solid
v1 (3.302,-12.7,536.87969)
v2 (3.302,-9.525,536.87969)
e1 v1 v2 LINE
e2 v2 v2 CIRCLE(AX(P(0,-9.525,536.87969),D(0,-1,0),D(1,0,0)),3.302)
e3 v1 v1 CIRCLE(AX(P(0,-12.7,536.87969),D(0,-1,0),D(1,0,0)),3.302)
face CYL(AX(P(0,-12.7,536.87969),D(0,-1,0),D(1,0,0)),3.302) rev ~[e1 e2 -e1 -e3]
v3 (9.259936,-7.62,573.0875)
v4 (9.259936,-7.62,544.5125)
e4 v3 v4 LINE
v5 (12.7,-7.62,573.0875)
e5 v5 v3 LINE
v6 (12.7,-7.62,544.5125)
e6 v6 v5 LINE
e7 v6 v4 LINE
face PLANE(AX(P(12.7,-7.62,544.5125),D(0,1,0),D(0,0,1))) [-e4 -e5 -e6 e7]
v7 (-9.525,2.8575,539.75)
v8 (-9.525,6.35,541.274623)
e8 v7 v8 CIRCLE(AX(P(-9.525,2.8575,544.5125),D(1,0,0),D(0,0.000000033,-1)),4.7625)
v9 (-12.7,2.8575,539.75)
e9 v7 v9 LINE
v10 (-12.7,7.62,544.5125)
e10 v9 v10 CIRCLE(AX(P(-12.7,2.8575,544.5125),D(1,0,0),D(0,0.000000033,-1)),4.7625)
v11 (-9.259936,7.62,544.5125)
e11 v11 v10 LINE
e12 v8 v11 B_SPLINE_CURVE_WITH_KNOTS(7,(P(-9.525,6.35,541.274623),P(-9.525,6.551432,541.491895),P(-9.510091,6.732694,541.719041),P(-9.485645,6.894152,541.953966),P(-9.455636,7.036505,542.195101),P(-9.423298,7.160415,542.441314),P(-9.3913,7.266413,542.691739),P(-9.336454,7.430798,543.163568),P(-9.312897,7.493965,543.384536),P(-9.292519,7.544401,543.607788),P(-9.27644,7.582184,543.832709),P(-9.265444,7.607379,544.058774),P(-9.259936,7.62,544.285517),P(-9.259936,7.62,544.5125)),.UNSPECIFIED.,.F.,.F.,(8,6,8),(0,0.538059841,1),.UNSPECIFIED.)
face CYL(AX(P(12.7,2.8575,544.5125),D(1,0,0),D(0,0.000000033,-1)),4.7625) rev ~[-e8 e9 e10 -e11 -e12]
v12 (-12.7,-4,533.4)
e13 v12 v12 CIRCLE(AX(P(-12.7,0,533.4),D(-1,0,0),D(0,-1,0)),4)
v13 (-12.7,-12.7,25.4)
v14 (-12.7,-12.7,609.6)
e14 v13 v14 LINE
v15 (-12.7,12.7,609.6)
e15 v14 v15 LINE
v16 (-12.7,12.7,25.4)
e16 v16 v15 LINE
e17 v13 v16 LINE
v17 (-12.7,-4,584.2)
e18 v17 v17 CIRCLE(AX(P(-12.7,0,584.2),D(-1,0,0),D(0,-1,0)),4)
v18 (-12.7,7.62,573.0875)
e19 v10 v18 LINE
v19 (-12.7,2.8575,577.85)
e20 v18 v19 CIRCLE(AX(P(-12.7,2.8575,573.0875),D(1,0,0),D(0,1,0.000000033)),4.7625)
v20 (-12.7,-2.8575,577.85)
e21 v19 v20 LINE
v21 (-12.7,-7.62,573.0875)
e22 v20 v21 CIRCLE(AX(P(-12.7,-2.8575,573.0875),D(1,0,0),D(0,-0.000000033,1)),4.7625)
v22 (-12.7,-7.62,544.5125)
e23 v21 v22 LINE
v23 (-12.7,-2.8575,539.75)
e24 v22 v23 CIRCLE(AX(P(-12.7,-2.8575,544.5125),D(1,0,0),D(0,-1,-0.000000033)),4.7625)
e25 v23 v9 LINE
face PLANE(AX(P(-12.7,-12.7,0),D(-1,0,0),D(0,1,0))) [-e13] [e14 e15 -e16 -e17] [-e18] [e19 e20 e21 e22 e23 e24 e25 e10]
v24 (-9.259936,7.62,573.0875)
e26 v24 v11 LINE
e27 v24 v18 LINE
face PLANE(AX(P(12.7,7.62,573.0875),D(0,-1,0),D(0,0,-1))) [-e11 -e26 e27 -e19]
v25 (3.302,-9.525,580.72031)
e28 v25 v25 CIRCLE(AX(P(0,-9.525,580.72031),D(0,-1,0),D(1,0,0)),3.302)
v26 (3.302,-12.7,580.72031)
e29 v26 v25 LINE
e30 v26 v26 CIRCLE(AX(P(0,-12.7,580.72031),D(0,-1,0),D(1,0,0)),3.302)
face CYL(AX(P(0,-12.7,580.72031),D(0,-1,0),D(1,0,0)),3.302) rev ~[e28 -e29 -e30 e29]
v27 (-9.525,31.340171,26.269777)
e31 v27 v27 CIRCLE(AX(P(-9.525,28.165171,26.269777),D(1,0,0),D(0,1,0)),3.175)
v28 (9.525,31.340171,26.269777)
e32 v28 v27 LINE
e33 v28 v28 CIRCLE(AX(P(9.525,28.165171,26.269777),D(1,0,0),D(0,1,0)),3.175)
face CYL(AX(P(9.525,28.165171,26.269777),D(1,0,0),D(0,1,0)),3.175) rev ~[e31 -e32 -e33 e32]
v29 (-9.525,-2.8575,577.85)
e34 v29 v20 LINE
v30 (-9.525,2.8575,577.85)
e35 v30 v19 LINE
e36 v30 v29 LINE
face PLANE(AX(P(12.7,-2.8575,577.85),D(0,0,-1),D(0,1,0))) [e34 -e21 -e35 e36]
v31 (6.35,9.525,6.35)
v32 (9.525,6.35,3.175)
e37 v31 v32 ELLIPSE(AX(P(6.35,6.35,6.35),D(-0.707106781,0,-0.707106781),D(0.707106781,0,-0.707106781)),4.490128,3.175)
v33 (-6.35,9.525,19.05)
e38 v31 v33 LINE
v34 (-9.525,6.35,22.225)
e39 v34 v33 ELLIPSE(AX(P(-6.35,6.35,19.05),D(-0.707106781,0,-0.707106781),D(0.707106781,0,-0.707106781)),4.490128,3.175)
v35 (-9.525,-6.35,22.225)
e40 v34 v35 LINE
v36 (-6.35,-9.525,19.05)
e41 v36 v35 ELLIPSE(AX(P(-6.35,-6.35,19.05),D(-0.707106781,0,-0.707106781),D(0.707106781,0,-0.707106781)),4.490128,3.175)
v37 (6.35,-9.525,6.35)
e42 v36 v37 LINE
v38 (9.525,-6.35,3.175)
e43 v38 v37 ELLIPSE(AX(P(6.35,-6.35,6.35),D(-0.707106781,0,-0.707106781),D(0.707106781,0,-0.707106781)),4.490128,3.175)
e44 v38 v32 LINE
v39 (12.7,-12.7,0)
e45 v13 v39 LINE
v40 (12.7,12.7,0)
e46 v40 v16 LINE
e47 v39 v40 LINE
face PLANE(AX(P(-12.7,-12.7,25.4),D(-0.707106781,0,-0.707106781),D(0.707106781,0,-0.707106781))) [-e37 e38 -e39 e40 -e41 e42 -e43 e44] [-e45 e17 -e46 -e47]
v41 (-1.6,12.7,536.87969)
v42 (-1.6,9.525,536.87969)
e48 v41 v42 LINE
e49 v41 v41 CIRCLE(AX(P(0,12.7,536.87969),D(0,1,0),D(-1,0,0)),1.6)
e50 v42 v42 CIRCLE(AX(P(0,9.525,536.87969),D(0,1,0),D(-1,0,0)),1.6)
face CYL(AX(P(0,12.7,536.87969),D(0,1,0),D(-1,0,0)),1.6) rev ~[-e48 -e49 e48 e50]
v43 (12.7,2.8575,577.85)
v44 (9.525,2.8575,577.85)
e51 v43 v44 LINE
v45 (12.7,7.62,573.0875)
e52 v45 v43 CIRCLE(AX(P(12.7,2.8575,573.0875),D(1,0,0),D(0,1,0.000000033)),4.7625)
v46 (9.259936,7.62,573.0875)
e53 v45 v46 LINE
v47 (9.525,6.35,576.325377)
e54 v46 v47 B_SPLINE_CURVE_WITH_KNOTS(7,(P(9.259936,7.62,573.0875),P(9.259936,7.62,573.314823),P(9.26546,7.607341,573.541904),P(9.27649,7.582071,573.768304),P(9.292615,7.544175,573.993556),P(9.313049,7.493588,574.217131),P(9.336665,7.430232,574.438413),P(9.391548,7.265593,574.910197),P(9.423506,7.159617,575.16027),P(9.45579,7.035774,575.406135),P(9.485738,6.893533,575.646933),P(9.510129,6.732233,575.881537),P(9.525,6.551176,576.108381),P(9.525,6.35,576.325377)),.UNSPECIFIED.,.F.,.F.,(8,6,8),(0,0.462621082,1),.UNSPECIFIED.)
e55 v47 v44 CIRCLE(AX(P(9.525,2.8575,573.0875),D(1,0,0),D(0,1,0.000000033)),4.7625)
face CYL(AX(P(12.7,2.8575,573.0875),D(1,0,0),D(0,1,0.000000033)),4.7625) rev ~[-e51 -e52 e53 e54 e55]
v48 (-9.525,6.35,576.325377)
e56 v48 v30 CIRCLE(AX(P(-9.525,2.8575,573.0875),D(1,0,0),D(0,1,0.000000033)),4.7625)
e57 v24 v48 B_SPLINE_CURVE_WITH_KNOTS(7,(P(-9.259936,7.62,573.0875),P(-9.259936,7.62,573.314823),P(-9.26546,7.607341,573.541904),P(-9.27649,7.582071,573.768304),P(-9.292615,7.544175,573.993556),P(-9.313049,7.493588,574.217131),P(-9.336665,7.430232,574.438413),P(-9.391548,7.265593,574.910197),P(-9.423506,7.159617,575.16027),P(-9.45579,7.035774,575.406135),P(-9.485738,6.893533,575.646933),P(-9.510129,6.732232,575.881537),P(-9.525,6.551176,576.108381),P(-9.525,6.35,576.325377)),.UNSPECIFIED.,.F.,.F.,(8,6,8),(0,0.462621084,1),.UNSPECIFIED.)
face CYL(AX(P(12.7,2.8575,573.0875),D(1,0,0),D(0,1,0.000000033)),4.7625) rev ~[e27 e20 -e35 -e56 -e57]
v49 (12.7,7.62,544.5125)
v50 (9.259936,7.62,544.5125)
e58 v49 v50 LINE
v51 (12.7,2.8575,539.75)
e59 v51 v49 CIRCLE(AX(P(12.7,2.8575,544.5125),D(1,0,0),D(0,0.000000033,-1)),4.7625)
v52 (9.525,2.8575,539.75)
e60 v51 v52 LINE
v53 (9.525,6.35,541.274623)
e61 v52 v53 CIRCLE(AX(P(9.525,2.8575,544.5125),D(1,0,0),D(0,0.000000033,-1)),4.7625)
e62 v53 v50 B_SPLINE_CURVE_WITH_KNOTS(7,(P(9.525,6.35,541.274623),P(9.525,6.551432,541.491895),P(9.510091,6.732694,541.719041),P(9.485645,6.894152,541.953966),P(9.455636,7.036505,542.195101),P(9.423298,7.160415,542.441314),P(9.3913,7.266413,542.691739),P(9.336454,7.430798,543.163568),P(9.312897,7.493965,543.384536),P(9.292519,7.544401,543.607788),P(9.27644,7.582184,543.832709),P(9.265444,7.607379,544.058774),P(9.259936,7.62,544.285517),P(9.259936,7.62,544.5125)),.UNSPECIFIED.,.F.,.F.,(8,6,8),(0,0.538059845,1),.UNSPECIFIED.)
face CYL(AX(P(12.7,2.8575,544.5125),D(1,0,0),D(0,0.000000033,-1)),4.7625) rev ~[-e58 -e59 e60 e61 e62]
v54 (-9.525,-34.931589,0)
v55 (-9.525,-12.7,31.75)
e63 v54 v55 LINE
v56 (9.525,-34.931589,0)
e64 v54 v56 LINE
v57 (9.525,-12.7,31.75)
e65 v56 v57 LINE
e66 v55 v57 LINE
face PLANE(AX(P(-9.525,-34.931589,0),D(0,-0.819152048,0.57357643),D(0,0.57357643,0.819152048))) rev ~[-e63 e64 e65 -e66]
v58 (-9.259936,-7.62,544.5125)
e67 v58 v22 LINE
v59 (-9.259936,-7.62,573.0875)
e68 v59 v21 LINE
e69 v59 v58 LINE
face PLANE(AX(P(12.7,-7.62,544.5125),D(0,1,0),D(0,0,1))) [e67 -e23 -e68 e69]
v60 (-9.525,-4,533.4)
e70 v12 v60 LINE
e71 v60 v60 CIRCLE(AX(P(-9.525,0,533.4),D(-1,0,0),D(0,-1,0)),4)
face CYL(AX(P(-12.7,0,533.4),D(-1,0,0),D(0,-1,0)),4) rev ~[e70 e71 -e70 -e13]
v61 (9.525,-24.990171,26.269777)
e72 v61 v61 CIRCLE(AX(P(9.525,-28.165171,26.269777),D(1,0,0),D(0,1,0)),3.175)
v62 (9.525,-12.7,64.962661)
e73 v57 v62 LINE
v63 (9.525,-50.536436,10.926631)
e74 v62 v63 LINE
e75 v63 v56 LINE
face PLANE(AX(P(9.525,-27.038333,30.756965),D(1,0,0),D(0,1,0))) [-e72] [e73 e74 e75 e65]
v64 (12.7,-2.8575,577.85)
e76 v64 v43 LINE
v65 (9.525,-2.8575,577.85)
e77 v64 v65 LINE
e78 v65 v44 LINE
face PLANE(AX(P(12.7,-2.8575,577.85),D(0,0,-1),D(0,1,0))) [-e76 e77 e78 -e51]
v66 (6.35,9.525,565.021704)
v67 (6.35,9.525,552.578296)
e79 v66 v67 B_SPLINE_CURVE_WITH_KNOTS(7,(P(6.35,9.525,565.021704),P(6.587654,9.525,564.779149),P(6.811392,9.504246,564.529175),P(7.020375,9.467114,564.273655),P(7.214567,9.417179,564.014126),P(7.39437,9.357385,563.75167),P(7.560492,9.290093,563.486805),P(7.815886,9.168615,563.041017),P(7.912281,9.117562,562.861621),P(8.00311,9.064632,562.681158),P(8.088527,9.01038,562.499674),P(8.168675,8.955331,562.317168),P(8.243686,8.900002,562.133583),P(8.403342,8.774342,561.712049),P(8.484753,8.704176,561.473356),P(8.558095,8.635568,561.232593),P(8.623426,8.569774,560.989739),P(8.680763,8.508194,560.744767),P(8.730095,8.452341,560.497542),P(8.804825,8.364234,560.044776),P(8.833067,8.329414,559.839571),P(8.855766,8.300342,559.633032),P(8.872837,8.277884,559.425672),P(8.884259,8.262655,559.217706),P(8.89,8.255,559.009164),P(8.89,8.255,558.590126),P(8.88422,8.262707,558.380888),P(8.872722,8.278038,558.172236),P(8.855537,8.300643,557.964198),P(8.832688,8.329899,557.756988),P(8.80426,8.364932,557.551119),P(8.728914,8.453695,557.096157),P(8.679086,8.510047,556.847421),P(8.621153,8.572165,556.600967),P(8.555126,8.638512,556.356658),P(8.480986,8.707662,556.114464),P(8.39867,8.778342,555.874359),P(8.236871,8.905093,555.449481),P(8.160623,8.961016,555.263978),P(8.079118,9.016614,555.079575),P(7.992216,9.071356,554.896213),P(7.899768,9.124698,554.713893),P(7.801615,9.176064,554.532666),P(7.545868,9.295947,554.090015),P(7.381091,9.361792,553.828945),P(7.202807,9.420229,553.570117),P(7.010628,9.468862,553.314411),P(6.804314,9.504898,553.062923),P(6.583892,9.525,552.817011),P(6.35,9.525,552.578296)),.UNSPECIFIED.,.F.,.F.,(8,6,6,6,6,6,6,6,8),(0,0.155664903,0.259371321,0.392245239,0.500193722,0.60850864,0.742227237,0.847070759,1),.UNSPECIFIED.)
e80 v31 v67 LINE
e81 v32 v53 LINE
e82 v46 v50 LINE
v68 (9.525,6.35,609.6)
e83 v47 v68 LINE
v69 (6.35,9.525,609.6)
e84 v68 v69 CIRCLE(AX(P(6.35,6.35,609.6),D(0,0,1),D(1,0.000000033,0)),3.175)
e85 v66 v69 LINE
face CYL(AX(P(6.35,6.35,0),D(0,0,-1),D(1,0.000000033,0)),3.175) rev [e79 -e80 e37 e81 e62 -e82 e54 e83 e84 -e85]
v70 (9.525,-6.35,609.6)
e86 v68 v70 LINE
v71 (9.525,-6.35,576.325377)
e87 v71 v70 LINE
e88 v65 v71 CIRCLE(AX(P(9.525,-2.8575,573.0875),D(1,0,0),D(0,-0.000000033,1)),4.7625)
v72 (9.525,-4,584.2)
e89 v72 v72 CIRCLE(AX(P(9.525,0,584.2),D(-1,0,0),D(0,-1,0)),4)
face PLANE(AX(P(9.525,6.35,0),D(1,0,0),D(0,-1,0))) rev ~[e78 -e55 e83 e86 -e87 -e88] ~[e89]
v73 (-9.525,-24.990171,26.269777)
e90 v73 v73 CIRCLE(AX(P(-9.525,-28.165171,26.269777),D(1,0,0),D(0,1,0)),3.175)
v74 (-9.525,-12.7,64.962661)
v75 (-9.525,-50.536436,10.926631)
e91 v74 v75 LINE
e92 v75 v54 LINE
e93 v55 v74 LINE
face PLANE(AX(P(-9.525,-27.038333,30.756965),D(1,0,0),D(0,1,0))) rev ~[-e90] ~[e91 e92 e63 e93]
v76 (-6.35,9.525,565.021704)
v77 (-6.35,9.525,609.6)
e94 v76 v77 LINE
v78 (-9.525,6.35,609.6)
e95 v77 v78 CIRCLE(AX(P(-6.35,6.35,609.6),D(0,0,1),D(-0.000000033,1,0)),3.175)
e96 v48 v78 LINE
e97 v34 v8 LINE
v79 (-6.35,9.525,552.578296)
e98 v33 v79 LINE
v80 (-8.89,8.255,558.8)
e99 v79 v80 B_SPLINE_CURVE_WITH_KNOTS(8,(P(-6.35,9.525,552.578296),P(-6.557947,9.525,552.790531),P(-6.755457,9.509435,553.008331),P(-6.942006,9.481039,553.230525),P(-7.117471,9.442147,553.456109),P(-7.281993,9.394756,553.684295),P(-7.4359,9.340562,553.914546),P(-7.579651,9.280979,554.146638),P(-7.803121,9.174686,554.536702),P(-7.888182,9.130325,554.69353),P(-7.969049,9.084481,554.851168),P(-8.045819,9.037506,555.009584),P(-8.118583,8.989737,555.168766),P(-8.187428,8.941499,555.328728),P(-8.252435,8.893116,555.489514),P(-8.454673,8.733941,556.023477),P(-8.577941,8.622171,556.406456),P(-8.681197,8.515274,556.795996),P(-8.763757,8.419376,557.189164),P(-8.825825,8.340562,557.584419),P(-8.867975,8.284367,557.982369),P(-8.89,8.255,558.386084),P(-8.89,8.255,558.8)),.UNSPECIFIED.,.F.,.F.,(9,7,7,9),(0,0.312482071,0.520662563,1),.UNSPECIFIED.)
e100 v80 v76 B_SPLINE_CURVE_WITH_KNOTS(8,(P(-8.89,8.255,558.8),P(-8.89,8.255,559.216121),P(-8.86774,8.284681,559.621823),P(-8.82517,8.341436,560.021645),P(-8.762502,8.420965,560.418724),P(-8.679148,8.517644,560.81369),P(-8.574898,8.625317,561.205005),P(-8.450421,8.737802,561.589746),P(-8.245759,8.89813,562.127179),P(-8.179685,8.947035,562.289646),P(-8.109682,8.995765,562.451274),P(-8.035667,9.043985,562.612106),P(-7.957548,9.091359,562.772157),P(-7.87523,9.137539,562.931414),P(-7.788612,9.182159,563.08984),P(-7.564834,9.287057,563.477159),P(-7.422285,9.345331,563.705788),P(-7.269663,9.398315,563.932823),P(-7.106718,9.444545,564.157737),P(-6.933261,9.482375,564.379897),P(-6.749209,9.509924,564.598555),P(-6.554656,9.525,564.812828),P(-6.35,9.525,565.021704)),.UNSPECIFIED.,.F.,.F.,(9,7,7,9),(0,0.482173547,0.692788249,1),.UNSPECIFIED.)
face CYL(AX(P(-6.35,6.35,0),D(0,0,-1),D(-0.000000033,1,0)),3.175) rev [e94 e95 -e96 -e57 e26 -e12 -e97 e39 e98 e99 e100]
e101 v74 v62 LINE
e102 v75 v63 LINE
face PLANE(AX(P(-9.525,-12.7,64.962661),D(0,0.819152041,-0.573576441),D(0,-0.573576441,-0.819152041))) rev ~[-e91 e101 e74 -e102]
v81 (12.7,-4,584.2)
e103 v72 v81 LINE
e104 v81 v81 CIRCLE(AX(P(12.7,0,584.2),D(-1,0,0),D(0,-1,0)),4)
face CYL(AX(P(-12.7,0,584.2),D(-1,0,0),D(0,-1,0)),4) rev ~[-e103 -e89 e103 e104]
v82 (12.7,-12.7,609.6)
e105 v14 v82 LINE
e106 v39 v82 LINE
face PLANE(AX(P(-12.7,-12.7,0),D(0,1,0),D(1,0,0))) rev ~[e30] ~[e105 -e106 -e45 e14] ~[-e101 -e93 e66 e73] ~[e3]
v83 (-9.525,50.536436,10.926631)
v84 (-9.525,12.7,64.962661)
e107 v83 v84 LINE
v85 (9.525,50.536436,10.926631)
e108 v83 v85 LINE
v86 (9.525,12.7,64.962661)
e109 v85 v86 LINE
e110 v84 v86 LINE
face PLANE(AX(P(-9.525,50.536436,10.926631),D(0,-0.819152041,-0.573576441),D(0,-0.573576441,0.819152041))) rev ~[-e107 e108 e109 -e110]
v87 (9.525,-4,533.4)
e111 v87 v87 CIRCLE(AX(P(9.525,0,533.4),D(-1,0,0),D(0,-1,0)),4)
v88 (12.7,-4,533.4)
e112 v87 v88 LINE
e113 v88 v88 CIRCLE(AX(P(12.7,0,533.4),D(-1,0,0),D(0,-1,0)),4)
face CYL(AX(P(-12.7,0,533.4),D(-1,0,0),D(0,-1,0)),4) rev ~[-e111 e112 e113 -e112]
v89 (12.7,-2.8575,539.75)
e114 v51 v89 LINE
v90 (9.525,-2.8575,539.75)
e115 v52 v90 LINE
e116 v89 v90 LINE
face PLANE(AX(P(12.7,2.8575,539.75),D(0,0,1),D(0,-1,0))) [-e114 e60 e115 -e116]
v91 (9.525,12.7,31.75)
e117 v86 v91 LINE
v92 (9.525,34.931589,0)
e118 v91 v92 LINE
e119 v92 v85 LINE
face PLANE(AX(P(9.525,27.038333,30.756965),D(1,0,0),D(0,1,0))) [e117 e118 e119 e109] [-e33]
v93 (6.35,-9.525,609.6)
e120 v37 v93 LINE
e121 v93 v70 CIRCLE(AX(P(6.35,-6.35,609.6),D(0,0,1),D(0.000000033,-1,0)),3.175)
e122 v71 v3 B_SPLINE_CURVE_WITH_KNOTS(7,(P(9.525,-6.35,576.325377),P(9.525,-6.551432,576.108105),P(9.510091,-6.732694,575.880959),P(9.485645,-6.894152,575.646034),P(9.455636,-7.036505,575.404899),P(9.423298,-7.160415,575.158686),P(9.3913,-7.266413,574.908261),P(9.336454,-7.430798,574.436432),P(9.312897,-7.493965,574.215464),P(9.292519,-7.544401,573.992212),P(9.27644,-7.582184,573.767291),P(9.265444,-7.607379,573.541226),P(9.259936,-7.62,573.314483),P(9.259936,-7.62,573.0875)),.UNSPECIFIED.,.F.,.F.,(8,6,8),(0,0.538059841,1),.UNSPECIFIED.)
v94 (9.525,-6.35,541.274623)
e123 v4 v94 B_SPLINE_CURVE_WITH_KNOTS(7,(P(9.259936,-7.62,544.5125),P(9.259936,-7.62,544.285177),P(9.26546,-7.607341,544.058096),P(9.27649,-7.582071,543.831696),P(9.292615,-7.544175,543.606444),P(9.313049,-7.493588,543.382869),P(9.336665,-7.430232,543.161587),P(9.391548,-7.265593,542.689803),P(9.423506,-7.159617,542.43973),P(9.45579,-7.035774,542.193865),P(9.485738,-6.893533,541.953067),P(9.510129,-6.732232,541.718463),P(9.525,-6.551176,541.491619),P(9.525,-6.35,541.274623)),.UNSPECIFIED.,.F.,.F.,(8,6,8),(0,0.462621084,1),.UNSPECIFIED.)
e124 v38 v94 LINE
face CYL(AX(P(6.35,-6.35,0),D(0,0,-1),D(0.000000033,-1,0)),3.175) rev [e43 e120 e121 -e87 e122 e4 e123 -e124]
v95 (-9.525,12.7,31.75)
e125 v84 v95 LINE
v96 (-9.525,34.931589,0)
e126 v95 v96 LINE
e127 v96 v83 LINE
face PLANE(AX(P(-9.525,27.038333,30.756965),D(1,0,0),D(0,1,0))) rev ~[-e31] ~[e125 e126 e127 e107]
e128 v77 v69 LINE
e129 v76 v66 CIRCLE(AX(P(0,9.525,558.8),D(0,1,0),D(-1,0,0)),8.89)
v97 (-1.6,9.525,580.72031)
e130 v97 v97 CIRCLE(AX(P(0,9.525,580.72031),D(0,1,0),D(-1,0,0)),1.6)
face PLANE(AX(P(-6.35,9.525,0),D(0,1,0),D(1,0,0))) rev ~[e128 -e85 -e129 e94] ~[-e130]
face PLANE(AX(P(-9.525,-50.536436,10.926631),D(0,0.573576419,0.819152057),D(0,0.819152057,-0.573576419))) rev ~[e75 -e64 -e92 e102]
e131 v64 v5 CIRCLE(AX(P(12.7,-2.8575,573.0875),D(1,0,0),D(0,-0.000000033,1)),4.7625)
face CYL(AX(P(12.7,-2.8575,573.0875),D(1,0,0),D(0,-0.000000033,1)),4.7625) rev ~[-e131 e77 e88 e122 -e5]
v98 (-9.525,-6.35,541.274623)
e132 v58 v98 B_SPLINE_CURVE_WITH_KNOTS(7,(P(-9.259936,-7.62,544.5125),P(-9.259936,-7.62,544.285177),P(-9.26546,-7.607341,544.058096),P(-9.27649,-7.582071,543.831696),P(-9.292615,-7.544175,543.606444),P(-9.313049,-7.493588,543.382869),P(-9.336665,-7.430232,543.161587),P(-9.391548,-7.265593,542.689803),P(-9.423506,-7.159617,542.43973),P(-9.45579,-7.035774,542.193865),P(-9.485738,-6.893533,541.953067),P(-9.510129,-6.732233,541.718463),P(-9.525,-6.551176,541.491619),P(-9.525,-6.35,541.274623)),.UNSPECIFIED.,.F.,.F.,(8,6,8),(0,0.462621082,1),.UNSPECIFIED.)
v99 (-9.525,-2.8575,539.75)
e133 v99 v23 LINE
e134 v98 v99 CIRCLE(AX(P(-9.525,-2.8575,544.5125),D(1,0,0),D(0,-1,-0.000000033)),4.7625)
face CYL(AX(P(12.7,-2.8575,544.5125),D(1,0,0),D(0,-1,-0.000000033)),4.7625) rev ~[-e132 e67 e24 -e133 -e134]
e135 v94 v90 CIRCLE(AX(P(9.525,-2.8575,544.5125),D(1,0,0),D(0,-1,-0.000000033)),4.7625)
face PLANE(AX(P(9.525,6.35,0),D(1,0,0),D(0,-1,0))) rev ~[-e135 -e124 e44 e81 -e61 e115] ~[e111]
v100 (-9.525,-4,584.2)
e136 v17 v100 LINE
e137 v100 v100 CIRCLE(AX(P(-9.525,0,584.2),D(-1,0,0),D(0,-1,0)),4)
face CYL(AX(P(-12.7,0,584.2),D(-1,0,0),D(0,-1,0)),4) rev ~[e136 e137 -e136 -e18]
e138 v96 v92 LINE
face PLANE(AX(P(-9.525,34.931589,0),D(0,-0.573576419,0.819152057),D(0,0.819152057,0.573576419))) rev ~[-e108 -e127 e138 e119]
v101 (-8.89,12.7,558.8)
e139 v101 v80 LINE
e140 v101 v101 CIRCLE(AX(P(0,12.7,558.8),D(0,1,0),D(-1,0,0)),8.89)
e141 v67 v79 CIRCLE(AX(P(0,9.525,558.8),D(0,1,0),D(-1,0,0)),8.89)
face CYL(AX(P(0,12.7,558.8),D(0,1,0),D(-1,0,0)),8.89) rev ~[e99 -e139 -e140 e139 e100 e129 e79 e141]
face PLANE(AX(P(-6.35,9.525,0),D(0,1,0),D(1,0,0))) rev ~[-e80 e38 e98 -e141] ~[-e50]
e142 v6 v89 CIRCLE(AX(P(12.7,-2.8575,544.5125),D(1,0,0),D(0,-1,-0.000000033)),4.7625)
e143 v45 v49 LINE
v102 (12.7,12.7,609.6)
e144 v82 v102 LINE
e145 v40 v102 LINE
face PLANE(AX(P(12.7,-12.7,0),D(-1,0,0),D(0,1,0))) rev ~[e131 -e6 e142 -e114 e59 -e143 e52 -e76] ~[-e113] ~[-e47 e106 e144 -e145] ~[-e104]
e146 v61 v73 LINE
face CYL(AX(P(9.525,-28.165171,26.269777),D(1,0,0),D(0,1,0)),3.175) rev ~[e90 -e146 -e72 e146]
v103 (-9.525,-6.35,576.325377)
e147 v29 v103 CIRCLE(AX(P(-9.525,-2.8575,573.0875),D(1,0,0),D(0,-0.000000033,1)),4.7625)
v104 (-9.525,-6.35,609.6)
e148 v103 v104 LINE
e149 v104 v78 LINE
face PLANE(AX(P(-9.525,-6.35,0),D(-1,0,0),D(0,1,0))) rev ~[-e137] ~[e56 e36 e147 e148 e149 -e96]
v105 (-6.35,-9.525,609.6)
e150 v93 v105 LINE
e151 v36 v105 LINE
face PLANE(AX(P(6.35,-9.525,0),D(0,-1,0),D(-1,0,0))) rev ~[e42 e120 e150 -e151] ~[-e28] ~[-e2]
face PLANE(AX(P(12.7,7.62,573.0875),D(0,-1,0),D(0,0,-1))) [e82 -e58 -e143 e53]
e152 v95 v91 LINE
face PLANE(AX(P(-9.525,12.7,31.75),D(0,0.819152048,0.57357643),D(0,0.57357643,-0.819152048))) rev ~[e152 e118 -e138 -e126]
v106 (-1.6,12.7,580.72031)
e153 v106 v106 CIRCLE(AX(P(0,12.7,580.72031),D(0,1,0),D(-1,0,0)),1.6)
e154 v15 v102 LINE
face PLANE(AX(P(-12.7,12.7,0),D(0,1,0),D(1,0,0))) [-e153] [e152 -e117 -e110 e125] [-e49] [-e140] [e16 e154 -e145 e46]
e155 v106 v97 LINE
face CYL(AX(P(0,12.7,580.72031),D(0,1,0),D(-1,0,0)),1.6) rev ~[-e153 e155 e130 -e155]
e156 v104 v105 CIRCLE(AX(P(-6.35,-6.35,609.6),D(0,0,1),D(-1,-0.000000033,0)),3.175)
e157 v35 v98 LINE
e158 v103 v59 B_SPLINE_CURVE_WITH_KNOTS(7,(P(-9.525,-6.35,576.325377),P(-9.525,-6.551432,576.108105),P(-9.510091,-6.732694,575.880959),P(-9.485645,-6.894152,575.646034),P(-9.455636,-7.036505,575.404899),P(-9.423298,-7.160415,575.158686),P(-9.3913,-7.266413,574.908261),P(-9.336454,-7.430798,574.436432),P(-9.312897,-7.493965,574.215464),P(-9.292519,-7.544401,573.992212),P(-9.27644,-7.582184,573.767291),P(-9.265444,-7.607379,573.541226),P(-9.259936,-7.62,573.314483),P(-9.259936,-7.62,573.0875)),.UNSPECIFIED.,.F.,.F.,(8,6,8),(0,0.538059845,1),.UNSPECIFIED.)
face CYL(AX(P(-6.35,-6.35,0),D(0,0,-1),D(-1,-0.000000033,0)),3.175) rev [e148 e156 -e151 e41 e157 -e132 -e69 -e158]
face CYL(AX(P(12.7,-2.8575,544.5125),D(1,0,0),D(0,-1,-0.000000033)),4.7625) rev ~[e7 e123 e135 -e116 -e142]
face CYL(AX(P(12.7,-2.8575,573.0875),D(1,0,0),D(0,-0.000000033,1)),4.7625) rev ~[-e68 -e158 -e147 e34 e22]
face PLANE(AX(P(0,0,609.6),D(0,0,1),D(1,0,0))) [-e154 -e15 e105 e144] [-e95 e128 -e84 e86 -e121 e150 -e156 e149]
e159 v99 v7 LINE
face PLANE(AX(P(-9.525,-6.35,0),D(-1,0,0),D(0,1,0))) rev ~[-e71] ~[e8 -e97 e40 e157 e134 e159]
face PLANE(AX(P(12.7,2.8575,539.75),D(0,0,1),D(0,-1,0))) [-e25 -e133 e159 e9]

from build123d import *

# Parameters (mm, degrees)
SKETCH001_W     = 25.4
SKETCH001_H     = 25.4
PAD001_DEPTH    = 609.6
SKETCH002_R     = 8.89
SKETCH002_R_2   = 1.6
POCKET_DEPTH    = 5.08
SKETCH003_R     = 4
POCKET001_DEPTH = 25.401
POCKET002_DEPTH = 25.401
POCKET006_DEPTH = 25.401
PAD004_DEPTH    = 19.05
SKETCH020_R     = 3.302
POCKET012_DEPTH = 7.62
SKETCH021_R     = 3.175
POCKET013_DEPTH = 22.226


with BuildPart() as part:
    # Sketch001 → Pad001 (new body)
    with BuildSketch(Plane.XY):
        Rectangle(SKETCH001_W, SKETCH001_H)
        with BuildLine():
            ThreePointArc((-9.525, -6.35), (-8.595064, -8.595064), (-6.35, -9.525))
            Line((6.35, -9.525), (-6.35, -9.525))
            ThreePointArc((6.35, -9.525), (8.595064, -8.595064), (9.525, -6.35))
            Line((9.525, 6.35), (9.525, -6.35))
            ThreePointArc((9.525, 6.35), (8.595064, 8.595064), (6.35, 9.525))
            Line((-6.35, 9.525), (6.35, 9.525))
            ThreePointArc((-6.35, 9.525), (-8.595064, 8.595064), (-9.525, 6.35))
            Line((-9.525, -6.35), (-9.525, 6.35))
        make_face(mode=Mode.SUBTRACT)
    extrude(amount=PAD001_DEPTH)

    # Sketch002 (on Face2 of Pad001) → Pocket (cut)
    with BuildSketch(Plane(origin=(0, 12.7, 0), x_dir=(-1, 0, 0), z_dir=(0, 1, 0))):
        with Locations((0, 558.8)):
            Circle(SKETCH002_R)
        with Locations((0, 580.72031)):
            Circle(SKETCH002_R_2)
        with Locations((0, 536.87969)):
            Circle(SKETCH002_R_2)
    extrude(amount=-POCKET_DEPTH, mode=Mode.SUBTRACT)

    # Sketch003 (on Face1 of Pocket) → Pocket001 (cut, through all)
    with BuildSketch(Plane(origin=(-12.7, 0, 0), x_dir=(0, -1, 0), z_dir=(-1, 0, 0))):
        with Locations((0, 584.2)):
            Circle(SKETCH003_R)
        with Locations((0, 533.4)):
            Circle(SKETCH003_R)
    extrude(amount=-POCKET001_DEPTH, mode=Mode.SUBTRACT)

    # Sketch004 (on Face2 of Pocket001) → Pocket002 (cut, through all)
    with BuildSketch(Plane.XZ.offset(12.7)):
        Polygon((12.7, 0), (-12.7, 0), (-12.7, 25.4), align=None)
    extrude(amount=-POCKET002_DEPTH, mode=Mode.SUBTRACT)

    # Sketch010 (on Face8 of Pocket002) → Pocket006 (cut, through all)
    with BuildSketch(Plane.YZ.offset(12.7)):
        with BuildLine():
            ThreePointArc((-7.62, 544.5125), (-6.225096, 541.144904), (-2.8575, 539.75))
            Line((2.8575, 539.75), (-2.8575, 539.75))
            ThreePointArc((2.8575, 539.75), (6.225096, 541.144904), (7.62, 544.5125))
            Line((7.62, 573.0875), (7.62, 544.5125))
            ThreePointArc((7.62, 573.0875), (6.225096, 576.455096), (2.8575, 577.85))
            Line((-2.8575, 577.85), (2.8575, 577.85))
            ThreePointArc((-2.8575, 577.85), (-6.225096, 576.455096), (-7.62, 573.0875))
            Line((-7.62, 544.5125), (-7.62, 573.0875))
        make_face()
    extrude(amount=-POCKET006_DEPTH, mode=Mode.SUBTRACT)

    # Sketch014 (on DatumPlane) → Pad004 (join)
    with BuildSketch(Plane(origin=(-9.525, 0, 0), x_dir=(0, -1, 0), z_dir=(-1, 0, 0))):
        Polygon((12.7, 31.75), (12.7, 64.962661), (50.536436, 10.926631), (34.931589, 0), align=None)
        Polygon((-12.7, 64.962661), (-12.7, 31.75), (-34.931589, 0), (-50.536436, 10.926631), align=None)
    extrude(amount=-PAD004_DEPTH)

    # Sketch020 (on Face3 of Pad004) → Pocket012 (cut)
    with BuildSketch(Plane.XZ.offset(12.7)):
        with Locations((0, 536.87969)):
            Circle(SKETCH020_R)
        with Locations((0, 580.72031)):
            Circle(SKETCH020_R)
    extrude(amount=-POCKET012_DEPTH, mode=Mode.SUBTRACT)

    # Sketch021 (on Face29 of Pocket012) → Pocket013 (cut, through all)
    with BuildSketch(Plane.YZ.offset(9.525)):
        with Locations((-28.165171, 26.269777)):
            Circle(SKETCH021_R)
        with Locations((28.165171, 26.269777)):
            Circle(SKETCH021_R)
    extrude(amount=-POCKET013_DEPTH, mode=Mode.SUBTRACT)


solid = part.part
